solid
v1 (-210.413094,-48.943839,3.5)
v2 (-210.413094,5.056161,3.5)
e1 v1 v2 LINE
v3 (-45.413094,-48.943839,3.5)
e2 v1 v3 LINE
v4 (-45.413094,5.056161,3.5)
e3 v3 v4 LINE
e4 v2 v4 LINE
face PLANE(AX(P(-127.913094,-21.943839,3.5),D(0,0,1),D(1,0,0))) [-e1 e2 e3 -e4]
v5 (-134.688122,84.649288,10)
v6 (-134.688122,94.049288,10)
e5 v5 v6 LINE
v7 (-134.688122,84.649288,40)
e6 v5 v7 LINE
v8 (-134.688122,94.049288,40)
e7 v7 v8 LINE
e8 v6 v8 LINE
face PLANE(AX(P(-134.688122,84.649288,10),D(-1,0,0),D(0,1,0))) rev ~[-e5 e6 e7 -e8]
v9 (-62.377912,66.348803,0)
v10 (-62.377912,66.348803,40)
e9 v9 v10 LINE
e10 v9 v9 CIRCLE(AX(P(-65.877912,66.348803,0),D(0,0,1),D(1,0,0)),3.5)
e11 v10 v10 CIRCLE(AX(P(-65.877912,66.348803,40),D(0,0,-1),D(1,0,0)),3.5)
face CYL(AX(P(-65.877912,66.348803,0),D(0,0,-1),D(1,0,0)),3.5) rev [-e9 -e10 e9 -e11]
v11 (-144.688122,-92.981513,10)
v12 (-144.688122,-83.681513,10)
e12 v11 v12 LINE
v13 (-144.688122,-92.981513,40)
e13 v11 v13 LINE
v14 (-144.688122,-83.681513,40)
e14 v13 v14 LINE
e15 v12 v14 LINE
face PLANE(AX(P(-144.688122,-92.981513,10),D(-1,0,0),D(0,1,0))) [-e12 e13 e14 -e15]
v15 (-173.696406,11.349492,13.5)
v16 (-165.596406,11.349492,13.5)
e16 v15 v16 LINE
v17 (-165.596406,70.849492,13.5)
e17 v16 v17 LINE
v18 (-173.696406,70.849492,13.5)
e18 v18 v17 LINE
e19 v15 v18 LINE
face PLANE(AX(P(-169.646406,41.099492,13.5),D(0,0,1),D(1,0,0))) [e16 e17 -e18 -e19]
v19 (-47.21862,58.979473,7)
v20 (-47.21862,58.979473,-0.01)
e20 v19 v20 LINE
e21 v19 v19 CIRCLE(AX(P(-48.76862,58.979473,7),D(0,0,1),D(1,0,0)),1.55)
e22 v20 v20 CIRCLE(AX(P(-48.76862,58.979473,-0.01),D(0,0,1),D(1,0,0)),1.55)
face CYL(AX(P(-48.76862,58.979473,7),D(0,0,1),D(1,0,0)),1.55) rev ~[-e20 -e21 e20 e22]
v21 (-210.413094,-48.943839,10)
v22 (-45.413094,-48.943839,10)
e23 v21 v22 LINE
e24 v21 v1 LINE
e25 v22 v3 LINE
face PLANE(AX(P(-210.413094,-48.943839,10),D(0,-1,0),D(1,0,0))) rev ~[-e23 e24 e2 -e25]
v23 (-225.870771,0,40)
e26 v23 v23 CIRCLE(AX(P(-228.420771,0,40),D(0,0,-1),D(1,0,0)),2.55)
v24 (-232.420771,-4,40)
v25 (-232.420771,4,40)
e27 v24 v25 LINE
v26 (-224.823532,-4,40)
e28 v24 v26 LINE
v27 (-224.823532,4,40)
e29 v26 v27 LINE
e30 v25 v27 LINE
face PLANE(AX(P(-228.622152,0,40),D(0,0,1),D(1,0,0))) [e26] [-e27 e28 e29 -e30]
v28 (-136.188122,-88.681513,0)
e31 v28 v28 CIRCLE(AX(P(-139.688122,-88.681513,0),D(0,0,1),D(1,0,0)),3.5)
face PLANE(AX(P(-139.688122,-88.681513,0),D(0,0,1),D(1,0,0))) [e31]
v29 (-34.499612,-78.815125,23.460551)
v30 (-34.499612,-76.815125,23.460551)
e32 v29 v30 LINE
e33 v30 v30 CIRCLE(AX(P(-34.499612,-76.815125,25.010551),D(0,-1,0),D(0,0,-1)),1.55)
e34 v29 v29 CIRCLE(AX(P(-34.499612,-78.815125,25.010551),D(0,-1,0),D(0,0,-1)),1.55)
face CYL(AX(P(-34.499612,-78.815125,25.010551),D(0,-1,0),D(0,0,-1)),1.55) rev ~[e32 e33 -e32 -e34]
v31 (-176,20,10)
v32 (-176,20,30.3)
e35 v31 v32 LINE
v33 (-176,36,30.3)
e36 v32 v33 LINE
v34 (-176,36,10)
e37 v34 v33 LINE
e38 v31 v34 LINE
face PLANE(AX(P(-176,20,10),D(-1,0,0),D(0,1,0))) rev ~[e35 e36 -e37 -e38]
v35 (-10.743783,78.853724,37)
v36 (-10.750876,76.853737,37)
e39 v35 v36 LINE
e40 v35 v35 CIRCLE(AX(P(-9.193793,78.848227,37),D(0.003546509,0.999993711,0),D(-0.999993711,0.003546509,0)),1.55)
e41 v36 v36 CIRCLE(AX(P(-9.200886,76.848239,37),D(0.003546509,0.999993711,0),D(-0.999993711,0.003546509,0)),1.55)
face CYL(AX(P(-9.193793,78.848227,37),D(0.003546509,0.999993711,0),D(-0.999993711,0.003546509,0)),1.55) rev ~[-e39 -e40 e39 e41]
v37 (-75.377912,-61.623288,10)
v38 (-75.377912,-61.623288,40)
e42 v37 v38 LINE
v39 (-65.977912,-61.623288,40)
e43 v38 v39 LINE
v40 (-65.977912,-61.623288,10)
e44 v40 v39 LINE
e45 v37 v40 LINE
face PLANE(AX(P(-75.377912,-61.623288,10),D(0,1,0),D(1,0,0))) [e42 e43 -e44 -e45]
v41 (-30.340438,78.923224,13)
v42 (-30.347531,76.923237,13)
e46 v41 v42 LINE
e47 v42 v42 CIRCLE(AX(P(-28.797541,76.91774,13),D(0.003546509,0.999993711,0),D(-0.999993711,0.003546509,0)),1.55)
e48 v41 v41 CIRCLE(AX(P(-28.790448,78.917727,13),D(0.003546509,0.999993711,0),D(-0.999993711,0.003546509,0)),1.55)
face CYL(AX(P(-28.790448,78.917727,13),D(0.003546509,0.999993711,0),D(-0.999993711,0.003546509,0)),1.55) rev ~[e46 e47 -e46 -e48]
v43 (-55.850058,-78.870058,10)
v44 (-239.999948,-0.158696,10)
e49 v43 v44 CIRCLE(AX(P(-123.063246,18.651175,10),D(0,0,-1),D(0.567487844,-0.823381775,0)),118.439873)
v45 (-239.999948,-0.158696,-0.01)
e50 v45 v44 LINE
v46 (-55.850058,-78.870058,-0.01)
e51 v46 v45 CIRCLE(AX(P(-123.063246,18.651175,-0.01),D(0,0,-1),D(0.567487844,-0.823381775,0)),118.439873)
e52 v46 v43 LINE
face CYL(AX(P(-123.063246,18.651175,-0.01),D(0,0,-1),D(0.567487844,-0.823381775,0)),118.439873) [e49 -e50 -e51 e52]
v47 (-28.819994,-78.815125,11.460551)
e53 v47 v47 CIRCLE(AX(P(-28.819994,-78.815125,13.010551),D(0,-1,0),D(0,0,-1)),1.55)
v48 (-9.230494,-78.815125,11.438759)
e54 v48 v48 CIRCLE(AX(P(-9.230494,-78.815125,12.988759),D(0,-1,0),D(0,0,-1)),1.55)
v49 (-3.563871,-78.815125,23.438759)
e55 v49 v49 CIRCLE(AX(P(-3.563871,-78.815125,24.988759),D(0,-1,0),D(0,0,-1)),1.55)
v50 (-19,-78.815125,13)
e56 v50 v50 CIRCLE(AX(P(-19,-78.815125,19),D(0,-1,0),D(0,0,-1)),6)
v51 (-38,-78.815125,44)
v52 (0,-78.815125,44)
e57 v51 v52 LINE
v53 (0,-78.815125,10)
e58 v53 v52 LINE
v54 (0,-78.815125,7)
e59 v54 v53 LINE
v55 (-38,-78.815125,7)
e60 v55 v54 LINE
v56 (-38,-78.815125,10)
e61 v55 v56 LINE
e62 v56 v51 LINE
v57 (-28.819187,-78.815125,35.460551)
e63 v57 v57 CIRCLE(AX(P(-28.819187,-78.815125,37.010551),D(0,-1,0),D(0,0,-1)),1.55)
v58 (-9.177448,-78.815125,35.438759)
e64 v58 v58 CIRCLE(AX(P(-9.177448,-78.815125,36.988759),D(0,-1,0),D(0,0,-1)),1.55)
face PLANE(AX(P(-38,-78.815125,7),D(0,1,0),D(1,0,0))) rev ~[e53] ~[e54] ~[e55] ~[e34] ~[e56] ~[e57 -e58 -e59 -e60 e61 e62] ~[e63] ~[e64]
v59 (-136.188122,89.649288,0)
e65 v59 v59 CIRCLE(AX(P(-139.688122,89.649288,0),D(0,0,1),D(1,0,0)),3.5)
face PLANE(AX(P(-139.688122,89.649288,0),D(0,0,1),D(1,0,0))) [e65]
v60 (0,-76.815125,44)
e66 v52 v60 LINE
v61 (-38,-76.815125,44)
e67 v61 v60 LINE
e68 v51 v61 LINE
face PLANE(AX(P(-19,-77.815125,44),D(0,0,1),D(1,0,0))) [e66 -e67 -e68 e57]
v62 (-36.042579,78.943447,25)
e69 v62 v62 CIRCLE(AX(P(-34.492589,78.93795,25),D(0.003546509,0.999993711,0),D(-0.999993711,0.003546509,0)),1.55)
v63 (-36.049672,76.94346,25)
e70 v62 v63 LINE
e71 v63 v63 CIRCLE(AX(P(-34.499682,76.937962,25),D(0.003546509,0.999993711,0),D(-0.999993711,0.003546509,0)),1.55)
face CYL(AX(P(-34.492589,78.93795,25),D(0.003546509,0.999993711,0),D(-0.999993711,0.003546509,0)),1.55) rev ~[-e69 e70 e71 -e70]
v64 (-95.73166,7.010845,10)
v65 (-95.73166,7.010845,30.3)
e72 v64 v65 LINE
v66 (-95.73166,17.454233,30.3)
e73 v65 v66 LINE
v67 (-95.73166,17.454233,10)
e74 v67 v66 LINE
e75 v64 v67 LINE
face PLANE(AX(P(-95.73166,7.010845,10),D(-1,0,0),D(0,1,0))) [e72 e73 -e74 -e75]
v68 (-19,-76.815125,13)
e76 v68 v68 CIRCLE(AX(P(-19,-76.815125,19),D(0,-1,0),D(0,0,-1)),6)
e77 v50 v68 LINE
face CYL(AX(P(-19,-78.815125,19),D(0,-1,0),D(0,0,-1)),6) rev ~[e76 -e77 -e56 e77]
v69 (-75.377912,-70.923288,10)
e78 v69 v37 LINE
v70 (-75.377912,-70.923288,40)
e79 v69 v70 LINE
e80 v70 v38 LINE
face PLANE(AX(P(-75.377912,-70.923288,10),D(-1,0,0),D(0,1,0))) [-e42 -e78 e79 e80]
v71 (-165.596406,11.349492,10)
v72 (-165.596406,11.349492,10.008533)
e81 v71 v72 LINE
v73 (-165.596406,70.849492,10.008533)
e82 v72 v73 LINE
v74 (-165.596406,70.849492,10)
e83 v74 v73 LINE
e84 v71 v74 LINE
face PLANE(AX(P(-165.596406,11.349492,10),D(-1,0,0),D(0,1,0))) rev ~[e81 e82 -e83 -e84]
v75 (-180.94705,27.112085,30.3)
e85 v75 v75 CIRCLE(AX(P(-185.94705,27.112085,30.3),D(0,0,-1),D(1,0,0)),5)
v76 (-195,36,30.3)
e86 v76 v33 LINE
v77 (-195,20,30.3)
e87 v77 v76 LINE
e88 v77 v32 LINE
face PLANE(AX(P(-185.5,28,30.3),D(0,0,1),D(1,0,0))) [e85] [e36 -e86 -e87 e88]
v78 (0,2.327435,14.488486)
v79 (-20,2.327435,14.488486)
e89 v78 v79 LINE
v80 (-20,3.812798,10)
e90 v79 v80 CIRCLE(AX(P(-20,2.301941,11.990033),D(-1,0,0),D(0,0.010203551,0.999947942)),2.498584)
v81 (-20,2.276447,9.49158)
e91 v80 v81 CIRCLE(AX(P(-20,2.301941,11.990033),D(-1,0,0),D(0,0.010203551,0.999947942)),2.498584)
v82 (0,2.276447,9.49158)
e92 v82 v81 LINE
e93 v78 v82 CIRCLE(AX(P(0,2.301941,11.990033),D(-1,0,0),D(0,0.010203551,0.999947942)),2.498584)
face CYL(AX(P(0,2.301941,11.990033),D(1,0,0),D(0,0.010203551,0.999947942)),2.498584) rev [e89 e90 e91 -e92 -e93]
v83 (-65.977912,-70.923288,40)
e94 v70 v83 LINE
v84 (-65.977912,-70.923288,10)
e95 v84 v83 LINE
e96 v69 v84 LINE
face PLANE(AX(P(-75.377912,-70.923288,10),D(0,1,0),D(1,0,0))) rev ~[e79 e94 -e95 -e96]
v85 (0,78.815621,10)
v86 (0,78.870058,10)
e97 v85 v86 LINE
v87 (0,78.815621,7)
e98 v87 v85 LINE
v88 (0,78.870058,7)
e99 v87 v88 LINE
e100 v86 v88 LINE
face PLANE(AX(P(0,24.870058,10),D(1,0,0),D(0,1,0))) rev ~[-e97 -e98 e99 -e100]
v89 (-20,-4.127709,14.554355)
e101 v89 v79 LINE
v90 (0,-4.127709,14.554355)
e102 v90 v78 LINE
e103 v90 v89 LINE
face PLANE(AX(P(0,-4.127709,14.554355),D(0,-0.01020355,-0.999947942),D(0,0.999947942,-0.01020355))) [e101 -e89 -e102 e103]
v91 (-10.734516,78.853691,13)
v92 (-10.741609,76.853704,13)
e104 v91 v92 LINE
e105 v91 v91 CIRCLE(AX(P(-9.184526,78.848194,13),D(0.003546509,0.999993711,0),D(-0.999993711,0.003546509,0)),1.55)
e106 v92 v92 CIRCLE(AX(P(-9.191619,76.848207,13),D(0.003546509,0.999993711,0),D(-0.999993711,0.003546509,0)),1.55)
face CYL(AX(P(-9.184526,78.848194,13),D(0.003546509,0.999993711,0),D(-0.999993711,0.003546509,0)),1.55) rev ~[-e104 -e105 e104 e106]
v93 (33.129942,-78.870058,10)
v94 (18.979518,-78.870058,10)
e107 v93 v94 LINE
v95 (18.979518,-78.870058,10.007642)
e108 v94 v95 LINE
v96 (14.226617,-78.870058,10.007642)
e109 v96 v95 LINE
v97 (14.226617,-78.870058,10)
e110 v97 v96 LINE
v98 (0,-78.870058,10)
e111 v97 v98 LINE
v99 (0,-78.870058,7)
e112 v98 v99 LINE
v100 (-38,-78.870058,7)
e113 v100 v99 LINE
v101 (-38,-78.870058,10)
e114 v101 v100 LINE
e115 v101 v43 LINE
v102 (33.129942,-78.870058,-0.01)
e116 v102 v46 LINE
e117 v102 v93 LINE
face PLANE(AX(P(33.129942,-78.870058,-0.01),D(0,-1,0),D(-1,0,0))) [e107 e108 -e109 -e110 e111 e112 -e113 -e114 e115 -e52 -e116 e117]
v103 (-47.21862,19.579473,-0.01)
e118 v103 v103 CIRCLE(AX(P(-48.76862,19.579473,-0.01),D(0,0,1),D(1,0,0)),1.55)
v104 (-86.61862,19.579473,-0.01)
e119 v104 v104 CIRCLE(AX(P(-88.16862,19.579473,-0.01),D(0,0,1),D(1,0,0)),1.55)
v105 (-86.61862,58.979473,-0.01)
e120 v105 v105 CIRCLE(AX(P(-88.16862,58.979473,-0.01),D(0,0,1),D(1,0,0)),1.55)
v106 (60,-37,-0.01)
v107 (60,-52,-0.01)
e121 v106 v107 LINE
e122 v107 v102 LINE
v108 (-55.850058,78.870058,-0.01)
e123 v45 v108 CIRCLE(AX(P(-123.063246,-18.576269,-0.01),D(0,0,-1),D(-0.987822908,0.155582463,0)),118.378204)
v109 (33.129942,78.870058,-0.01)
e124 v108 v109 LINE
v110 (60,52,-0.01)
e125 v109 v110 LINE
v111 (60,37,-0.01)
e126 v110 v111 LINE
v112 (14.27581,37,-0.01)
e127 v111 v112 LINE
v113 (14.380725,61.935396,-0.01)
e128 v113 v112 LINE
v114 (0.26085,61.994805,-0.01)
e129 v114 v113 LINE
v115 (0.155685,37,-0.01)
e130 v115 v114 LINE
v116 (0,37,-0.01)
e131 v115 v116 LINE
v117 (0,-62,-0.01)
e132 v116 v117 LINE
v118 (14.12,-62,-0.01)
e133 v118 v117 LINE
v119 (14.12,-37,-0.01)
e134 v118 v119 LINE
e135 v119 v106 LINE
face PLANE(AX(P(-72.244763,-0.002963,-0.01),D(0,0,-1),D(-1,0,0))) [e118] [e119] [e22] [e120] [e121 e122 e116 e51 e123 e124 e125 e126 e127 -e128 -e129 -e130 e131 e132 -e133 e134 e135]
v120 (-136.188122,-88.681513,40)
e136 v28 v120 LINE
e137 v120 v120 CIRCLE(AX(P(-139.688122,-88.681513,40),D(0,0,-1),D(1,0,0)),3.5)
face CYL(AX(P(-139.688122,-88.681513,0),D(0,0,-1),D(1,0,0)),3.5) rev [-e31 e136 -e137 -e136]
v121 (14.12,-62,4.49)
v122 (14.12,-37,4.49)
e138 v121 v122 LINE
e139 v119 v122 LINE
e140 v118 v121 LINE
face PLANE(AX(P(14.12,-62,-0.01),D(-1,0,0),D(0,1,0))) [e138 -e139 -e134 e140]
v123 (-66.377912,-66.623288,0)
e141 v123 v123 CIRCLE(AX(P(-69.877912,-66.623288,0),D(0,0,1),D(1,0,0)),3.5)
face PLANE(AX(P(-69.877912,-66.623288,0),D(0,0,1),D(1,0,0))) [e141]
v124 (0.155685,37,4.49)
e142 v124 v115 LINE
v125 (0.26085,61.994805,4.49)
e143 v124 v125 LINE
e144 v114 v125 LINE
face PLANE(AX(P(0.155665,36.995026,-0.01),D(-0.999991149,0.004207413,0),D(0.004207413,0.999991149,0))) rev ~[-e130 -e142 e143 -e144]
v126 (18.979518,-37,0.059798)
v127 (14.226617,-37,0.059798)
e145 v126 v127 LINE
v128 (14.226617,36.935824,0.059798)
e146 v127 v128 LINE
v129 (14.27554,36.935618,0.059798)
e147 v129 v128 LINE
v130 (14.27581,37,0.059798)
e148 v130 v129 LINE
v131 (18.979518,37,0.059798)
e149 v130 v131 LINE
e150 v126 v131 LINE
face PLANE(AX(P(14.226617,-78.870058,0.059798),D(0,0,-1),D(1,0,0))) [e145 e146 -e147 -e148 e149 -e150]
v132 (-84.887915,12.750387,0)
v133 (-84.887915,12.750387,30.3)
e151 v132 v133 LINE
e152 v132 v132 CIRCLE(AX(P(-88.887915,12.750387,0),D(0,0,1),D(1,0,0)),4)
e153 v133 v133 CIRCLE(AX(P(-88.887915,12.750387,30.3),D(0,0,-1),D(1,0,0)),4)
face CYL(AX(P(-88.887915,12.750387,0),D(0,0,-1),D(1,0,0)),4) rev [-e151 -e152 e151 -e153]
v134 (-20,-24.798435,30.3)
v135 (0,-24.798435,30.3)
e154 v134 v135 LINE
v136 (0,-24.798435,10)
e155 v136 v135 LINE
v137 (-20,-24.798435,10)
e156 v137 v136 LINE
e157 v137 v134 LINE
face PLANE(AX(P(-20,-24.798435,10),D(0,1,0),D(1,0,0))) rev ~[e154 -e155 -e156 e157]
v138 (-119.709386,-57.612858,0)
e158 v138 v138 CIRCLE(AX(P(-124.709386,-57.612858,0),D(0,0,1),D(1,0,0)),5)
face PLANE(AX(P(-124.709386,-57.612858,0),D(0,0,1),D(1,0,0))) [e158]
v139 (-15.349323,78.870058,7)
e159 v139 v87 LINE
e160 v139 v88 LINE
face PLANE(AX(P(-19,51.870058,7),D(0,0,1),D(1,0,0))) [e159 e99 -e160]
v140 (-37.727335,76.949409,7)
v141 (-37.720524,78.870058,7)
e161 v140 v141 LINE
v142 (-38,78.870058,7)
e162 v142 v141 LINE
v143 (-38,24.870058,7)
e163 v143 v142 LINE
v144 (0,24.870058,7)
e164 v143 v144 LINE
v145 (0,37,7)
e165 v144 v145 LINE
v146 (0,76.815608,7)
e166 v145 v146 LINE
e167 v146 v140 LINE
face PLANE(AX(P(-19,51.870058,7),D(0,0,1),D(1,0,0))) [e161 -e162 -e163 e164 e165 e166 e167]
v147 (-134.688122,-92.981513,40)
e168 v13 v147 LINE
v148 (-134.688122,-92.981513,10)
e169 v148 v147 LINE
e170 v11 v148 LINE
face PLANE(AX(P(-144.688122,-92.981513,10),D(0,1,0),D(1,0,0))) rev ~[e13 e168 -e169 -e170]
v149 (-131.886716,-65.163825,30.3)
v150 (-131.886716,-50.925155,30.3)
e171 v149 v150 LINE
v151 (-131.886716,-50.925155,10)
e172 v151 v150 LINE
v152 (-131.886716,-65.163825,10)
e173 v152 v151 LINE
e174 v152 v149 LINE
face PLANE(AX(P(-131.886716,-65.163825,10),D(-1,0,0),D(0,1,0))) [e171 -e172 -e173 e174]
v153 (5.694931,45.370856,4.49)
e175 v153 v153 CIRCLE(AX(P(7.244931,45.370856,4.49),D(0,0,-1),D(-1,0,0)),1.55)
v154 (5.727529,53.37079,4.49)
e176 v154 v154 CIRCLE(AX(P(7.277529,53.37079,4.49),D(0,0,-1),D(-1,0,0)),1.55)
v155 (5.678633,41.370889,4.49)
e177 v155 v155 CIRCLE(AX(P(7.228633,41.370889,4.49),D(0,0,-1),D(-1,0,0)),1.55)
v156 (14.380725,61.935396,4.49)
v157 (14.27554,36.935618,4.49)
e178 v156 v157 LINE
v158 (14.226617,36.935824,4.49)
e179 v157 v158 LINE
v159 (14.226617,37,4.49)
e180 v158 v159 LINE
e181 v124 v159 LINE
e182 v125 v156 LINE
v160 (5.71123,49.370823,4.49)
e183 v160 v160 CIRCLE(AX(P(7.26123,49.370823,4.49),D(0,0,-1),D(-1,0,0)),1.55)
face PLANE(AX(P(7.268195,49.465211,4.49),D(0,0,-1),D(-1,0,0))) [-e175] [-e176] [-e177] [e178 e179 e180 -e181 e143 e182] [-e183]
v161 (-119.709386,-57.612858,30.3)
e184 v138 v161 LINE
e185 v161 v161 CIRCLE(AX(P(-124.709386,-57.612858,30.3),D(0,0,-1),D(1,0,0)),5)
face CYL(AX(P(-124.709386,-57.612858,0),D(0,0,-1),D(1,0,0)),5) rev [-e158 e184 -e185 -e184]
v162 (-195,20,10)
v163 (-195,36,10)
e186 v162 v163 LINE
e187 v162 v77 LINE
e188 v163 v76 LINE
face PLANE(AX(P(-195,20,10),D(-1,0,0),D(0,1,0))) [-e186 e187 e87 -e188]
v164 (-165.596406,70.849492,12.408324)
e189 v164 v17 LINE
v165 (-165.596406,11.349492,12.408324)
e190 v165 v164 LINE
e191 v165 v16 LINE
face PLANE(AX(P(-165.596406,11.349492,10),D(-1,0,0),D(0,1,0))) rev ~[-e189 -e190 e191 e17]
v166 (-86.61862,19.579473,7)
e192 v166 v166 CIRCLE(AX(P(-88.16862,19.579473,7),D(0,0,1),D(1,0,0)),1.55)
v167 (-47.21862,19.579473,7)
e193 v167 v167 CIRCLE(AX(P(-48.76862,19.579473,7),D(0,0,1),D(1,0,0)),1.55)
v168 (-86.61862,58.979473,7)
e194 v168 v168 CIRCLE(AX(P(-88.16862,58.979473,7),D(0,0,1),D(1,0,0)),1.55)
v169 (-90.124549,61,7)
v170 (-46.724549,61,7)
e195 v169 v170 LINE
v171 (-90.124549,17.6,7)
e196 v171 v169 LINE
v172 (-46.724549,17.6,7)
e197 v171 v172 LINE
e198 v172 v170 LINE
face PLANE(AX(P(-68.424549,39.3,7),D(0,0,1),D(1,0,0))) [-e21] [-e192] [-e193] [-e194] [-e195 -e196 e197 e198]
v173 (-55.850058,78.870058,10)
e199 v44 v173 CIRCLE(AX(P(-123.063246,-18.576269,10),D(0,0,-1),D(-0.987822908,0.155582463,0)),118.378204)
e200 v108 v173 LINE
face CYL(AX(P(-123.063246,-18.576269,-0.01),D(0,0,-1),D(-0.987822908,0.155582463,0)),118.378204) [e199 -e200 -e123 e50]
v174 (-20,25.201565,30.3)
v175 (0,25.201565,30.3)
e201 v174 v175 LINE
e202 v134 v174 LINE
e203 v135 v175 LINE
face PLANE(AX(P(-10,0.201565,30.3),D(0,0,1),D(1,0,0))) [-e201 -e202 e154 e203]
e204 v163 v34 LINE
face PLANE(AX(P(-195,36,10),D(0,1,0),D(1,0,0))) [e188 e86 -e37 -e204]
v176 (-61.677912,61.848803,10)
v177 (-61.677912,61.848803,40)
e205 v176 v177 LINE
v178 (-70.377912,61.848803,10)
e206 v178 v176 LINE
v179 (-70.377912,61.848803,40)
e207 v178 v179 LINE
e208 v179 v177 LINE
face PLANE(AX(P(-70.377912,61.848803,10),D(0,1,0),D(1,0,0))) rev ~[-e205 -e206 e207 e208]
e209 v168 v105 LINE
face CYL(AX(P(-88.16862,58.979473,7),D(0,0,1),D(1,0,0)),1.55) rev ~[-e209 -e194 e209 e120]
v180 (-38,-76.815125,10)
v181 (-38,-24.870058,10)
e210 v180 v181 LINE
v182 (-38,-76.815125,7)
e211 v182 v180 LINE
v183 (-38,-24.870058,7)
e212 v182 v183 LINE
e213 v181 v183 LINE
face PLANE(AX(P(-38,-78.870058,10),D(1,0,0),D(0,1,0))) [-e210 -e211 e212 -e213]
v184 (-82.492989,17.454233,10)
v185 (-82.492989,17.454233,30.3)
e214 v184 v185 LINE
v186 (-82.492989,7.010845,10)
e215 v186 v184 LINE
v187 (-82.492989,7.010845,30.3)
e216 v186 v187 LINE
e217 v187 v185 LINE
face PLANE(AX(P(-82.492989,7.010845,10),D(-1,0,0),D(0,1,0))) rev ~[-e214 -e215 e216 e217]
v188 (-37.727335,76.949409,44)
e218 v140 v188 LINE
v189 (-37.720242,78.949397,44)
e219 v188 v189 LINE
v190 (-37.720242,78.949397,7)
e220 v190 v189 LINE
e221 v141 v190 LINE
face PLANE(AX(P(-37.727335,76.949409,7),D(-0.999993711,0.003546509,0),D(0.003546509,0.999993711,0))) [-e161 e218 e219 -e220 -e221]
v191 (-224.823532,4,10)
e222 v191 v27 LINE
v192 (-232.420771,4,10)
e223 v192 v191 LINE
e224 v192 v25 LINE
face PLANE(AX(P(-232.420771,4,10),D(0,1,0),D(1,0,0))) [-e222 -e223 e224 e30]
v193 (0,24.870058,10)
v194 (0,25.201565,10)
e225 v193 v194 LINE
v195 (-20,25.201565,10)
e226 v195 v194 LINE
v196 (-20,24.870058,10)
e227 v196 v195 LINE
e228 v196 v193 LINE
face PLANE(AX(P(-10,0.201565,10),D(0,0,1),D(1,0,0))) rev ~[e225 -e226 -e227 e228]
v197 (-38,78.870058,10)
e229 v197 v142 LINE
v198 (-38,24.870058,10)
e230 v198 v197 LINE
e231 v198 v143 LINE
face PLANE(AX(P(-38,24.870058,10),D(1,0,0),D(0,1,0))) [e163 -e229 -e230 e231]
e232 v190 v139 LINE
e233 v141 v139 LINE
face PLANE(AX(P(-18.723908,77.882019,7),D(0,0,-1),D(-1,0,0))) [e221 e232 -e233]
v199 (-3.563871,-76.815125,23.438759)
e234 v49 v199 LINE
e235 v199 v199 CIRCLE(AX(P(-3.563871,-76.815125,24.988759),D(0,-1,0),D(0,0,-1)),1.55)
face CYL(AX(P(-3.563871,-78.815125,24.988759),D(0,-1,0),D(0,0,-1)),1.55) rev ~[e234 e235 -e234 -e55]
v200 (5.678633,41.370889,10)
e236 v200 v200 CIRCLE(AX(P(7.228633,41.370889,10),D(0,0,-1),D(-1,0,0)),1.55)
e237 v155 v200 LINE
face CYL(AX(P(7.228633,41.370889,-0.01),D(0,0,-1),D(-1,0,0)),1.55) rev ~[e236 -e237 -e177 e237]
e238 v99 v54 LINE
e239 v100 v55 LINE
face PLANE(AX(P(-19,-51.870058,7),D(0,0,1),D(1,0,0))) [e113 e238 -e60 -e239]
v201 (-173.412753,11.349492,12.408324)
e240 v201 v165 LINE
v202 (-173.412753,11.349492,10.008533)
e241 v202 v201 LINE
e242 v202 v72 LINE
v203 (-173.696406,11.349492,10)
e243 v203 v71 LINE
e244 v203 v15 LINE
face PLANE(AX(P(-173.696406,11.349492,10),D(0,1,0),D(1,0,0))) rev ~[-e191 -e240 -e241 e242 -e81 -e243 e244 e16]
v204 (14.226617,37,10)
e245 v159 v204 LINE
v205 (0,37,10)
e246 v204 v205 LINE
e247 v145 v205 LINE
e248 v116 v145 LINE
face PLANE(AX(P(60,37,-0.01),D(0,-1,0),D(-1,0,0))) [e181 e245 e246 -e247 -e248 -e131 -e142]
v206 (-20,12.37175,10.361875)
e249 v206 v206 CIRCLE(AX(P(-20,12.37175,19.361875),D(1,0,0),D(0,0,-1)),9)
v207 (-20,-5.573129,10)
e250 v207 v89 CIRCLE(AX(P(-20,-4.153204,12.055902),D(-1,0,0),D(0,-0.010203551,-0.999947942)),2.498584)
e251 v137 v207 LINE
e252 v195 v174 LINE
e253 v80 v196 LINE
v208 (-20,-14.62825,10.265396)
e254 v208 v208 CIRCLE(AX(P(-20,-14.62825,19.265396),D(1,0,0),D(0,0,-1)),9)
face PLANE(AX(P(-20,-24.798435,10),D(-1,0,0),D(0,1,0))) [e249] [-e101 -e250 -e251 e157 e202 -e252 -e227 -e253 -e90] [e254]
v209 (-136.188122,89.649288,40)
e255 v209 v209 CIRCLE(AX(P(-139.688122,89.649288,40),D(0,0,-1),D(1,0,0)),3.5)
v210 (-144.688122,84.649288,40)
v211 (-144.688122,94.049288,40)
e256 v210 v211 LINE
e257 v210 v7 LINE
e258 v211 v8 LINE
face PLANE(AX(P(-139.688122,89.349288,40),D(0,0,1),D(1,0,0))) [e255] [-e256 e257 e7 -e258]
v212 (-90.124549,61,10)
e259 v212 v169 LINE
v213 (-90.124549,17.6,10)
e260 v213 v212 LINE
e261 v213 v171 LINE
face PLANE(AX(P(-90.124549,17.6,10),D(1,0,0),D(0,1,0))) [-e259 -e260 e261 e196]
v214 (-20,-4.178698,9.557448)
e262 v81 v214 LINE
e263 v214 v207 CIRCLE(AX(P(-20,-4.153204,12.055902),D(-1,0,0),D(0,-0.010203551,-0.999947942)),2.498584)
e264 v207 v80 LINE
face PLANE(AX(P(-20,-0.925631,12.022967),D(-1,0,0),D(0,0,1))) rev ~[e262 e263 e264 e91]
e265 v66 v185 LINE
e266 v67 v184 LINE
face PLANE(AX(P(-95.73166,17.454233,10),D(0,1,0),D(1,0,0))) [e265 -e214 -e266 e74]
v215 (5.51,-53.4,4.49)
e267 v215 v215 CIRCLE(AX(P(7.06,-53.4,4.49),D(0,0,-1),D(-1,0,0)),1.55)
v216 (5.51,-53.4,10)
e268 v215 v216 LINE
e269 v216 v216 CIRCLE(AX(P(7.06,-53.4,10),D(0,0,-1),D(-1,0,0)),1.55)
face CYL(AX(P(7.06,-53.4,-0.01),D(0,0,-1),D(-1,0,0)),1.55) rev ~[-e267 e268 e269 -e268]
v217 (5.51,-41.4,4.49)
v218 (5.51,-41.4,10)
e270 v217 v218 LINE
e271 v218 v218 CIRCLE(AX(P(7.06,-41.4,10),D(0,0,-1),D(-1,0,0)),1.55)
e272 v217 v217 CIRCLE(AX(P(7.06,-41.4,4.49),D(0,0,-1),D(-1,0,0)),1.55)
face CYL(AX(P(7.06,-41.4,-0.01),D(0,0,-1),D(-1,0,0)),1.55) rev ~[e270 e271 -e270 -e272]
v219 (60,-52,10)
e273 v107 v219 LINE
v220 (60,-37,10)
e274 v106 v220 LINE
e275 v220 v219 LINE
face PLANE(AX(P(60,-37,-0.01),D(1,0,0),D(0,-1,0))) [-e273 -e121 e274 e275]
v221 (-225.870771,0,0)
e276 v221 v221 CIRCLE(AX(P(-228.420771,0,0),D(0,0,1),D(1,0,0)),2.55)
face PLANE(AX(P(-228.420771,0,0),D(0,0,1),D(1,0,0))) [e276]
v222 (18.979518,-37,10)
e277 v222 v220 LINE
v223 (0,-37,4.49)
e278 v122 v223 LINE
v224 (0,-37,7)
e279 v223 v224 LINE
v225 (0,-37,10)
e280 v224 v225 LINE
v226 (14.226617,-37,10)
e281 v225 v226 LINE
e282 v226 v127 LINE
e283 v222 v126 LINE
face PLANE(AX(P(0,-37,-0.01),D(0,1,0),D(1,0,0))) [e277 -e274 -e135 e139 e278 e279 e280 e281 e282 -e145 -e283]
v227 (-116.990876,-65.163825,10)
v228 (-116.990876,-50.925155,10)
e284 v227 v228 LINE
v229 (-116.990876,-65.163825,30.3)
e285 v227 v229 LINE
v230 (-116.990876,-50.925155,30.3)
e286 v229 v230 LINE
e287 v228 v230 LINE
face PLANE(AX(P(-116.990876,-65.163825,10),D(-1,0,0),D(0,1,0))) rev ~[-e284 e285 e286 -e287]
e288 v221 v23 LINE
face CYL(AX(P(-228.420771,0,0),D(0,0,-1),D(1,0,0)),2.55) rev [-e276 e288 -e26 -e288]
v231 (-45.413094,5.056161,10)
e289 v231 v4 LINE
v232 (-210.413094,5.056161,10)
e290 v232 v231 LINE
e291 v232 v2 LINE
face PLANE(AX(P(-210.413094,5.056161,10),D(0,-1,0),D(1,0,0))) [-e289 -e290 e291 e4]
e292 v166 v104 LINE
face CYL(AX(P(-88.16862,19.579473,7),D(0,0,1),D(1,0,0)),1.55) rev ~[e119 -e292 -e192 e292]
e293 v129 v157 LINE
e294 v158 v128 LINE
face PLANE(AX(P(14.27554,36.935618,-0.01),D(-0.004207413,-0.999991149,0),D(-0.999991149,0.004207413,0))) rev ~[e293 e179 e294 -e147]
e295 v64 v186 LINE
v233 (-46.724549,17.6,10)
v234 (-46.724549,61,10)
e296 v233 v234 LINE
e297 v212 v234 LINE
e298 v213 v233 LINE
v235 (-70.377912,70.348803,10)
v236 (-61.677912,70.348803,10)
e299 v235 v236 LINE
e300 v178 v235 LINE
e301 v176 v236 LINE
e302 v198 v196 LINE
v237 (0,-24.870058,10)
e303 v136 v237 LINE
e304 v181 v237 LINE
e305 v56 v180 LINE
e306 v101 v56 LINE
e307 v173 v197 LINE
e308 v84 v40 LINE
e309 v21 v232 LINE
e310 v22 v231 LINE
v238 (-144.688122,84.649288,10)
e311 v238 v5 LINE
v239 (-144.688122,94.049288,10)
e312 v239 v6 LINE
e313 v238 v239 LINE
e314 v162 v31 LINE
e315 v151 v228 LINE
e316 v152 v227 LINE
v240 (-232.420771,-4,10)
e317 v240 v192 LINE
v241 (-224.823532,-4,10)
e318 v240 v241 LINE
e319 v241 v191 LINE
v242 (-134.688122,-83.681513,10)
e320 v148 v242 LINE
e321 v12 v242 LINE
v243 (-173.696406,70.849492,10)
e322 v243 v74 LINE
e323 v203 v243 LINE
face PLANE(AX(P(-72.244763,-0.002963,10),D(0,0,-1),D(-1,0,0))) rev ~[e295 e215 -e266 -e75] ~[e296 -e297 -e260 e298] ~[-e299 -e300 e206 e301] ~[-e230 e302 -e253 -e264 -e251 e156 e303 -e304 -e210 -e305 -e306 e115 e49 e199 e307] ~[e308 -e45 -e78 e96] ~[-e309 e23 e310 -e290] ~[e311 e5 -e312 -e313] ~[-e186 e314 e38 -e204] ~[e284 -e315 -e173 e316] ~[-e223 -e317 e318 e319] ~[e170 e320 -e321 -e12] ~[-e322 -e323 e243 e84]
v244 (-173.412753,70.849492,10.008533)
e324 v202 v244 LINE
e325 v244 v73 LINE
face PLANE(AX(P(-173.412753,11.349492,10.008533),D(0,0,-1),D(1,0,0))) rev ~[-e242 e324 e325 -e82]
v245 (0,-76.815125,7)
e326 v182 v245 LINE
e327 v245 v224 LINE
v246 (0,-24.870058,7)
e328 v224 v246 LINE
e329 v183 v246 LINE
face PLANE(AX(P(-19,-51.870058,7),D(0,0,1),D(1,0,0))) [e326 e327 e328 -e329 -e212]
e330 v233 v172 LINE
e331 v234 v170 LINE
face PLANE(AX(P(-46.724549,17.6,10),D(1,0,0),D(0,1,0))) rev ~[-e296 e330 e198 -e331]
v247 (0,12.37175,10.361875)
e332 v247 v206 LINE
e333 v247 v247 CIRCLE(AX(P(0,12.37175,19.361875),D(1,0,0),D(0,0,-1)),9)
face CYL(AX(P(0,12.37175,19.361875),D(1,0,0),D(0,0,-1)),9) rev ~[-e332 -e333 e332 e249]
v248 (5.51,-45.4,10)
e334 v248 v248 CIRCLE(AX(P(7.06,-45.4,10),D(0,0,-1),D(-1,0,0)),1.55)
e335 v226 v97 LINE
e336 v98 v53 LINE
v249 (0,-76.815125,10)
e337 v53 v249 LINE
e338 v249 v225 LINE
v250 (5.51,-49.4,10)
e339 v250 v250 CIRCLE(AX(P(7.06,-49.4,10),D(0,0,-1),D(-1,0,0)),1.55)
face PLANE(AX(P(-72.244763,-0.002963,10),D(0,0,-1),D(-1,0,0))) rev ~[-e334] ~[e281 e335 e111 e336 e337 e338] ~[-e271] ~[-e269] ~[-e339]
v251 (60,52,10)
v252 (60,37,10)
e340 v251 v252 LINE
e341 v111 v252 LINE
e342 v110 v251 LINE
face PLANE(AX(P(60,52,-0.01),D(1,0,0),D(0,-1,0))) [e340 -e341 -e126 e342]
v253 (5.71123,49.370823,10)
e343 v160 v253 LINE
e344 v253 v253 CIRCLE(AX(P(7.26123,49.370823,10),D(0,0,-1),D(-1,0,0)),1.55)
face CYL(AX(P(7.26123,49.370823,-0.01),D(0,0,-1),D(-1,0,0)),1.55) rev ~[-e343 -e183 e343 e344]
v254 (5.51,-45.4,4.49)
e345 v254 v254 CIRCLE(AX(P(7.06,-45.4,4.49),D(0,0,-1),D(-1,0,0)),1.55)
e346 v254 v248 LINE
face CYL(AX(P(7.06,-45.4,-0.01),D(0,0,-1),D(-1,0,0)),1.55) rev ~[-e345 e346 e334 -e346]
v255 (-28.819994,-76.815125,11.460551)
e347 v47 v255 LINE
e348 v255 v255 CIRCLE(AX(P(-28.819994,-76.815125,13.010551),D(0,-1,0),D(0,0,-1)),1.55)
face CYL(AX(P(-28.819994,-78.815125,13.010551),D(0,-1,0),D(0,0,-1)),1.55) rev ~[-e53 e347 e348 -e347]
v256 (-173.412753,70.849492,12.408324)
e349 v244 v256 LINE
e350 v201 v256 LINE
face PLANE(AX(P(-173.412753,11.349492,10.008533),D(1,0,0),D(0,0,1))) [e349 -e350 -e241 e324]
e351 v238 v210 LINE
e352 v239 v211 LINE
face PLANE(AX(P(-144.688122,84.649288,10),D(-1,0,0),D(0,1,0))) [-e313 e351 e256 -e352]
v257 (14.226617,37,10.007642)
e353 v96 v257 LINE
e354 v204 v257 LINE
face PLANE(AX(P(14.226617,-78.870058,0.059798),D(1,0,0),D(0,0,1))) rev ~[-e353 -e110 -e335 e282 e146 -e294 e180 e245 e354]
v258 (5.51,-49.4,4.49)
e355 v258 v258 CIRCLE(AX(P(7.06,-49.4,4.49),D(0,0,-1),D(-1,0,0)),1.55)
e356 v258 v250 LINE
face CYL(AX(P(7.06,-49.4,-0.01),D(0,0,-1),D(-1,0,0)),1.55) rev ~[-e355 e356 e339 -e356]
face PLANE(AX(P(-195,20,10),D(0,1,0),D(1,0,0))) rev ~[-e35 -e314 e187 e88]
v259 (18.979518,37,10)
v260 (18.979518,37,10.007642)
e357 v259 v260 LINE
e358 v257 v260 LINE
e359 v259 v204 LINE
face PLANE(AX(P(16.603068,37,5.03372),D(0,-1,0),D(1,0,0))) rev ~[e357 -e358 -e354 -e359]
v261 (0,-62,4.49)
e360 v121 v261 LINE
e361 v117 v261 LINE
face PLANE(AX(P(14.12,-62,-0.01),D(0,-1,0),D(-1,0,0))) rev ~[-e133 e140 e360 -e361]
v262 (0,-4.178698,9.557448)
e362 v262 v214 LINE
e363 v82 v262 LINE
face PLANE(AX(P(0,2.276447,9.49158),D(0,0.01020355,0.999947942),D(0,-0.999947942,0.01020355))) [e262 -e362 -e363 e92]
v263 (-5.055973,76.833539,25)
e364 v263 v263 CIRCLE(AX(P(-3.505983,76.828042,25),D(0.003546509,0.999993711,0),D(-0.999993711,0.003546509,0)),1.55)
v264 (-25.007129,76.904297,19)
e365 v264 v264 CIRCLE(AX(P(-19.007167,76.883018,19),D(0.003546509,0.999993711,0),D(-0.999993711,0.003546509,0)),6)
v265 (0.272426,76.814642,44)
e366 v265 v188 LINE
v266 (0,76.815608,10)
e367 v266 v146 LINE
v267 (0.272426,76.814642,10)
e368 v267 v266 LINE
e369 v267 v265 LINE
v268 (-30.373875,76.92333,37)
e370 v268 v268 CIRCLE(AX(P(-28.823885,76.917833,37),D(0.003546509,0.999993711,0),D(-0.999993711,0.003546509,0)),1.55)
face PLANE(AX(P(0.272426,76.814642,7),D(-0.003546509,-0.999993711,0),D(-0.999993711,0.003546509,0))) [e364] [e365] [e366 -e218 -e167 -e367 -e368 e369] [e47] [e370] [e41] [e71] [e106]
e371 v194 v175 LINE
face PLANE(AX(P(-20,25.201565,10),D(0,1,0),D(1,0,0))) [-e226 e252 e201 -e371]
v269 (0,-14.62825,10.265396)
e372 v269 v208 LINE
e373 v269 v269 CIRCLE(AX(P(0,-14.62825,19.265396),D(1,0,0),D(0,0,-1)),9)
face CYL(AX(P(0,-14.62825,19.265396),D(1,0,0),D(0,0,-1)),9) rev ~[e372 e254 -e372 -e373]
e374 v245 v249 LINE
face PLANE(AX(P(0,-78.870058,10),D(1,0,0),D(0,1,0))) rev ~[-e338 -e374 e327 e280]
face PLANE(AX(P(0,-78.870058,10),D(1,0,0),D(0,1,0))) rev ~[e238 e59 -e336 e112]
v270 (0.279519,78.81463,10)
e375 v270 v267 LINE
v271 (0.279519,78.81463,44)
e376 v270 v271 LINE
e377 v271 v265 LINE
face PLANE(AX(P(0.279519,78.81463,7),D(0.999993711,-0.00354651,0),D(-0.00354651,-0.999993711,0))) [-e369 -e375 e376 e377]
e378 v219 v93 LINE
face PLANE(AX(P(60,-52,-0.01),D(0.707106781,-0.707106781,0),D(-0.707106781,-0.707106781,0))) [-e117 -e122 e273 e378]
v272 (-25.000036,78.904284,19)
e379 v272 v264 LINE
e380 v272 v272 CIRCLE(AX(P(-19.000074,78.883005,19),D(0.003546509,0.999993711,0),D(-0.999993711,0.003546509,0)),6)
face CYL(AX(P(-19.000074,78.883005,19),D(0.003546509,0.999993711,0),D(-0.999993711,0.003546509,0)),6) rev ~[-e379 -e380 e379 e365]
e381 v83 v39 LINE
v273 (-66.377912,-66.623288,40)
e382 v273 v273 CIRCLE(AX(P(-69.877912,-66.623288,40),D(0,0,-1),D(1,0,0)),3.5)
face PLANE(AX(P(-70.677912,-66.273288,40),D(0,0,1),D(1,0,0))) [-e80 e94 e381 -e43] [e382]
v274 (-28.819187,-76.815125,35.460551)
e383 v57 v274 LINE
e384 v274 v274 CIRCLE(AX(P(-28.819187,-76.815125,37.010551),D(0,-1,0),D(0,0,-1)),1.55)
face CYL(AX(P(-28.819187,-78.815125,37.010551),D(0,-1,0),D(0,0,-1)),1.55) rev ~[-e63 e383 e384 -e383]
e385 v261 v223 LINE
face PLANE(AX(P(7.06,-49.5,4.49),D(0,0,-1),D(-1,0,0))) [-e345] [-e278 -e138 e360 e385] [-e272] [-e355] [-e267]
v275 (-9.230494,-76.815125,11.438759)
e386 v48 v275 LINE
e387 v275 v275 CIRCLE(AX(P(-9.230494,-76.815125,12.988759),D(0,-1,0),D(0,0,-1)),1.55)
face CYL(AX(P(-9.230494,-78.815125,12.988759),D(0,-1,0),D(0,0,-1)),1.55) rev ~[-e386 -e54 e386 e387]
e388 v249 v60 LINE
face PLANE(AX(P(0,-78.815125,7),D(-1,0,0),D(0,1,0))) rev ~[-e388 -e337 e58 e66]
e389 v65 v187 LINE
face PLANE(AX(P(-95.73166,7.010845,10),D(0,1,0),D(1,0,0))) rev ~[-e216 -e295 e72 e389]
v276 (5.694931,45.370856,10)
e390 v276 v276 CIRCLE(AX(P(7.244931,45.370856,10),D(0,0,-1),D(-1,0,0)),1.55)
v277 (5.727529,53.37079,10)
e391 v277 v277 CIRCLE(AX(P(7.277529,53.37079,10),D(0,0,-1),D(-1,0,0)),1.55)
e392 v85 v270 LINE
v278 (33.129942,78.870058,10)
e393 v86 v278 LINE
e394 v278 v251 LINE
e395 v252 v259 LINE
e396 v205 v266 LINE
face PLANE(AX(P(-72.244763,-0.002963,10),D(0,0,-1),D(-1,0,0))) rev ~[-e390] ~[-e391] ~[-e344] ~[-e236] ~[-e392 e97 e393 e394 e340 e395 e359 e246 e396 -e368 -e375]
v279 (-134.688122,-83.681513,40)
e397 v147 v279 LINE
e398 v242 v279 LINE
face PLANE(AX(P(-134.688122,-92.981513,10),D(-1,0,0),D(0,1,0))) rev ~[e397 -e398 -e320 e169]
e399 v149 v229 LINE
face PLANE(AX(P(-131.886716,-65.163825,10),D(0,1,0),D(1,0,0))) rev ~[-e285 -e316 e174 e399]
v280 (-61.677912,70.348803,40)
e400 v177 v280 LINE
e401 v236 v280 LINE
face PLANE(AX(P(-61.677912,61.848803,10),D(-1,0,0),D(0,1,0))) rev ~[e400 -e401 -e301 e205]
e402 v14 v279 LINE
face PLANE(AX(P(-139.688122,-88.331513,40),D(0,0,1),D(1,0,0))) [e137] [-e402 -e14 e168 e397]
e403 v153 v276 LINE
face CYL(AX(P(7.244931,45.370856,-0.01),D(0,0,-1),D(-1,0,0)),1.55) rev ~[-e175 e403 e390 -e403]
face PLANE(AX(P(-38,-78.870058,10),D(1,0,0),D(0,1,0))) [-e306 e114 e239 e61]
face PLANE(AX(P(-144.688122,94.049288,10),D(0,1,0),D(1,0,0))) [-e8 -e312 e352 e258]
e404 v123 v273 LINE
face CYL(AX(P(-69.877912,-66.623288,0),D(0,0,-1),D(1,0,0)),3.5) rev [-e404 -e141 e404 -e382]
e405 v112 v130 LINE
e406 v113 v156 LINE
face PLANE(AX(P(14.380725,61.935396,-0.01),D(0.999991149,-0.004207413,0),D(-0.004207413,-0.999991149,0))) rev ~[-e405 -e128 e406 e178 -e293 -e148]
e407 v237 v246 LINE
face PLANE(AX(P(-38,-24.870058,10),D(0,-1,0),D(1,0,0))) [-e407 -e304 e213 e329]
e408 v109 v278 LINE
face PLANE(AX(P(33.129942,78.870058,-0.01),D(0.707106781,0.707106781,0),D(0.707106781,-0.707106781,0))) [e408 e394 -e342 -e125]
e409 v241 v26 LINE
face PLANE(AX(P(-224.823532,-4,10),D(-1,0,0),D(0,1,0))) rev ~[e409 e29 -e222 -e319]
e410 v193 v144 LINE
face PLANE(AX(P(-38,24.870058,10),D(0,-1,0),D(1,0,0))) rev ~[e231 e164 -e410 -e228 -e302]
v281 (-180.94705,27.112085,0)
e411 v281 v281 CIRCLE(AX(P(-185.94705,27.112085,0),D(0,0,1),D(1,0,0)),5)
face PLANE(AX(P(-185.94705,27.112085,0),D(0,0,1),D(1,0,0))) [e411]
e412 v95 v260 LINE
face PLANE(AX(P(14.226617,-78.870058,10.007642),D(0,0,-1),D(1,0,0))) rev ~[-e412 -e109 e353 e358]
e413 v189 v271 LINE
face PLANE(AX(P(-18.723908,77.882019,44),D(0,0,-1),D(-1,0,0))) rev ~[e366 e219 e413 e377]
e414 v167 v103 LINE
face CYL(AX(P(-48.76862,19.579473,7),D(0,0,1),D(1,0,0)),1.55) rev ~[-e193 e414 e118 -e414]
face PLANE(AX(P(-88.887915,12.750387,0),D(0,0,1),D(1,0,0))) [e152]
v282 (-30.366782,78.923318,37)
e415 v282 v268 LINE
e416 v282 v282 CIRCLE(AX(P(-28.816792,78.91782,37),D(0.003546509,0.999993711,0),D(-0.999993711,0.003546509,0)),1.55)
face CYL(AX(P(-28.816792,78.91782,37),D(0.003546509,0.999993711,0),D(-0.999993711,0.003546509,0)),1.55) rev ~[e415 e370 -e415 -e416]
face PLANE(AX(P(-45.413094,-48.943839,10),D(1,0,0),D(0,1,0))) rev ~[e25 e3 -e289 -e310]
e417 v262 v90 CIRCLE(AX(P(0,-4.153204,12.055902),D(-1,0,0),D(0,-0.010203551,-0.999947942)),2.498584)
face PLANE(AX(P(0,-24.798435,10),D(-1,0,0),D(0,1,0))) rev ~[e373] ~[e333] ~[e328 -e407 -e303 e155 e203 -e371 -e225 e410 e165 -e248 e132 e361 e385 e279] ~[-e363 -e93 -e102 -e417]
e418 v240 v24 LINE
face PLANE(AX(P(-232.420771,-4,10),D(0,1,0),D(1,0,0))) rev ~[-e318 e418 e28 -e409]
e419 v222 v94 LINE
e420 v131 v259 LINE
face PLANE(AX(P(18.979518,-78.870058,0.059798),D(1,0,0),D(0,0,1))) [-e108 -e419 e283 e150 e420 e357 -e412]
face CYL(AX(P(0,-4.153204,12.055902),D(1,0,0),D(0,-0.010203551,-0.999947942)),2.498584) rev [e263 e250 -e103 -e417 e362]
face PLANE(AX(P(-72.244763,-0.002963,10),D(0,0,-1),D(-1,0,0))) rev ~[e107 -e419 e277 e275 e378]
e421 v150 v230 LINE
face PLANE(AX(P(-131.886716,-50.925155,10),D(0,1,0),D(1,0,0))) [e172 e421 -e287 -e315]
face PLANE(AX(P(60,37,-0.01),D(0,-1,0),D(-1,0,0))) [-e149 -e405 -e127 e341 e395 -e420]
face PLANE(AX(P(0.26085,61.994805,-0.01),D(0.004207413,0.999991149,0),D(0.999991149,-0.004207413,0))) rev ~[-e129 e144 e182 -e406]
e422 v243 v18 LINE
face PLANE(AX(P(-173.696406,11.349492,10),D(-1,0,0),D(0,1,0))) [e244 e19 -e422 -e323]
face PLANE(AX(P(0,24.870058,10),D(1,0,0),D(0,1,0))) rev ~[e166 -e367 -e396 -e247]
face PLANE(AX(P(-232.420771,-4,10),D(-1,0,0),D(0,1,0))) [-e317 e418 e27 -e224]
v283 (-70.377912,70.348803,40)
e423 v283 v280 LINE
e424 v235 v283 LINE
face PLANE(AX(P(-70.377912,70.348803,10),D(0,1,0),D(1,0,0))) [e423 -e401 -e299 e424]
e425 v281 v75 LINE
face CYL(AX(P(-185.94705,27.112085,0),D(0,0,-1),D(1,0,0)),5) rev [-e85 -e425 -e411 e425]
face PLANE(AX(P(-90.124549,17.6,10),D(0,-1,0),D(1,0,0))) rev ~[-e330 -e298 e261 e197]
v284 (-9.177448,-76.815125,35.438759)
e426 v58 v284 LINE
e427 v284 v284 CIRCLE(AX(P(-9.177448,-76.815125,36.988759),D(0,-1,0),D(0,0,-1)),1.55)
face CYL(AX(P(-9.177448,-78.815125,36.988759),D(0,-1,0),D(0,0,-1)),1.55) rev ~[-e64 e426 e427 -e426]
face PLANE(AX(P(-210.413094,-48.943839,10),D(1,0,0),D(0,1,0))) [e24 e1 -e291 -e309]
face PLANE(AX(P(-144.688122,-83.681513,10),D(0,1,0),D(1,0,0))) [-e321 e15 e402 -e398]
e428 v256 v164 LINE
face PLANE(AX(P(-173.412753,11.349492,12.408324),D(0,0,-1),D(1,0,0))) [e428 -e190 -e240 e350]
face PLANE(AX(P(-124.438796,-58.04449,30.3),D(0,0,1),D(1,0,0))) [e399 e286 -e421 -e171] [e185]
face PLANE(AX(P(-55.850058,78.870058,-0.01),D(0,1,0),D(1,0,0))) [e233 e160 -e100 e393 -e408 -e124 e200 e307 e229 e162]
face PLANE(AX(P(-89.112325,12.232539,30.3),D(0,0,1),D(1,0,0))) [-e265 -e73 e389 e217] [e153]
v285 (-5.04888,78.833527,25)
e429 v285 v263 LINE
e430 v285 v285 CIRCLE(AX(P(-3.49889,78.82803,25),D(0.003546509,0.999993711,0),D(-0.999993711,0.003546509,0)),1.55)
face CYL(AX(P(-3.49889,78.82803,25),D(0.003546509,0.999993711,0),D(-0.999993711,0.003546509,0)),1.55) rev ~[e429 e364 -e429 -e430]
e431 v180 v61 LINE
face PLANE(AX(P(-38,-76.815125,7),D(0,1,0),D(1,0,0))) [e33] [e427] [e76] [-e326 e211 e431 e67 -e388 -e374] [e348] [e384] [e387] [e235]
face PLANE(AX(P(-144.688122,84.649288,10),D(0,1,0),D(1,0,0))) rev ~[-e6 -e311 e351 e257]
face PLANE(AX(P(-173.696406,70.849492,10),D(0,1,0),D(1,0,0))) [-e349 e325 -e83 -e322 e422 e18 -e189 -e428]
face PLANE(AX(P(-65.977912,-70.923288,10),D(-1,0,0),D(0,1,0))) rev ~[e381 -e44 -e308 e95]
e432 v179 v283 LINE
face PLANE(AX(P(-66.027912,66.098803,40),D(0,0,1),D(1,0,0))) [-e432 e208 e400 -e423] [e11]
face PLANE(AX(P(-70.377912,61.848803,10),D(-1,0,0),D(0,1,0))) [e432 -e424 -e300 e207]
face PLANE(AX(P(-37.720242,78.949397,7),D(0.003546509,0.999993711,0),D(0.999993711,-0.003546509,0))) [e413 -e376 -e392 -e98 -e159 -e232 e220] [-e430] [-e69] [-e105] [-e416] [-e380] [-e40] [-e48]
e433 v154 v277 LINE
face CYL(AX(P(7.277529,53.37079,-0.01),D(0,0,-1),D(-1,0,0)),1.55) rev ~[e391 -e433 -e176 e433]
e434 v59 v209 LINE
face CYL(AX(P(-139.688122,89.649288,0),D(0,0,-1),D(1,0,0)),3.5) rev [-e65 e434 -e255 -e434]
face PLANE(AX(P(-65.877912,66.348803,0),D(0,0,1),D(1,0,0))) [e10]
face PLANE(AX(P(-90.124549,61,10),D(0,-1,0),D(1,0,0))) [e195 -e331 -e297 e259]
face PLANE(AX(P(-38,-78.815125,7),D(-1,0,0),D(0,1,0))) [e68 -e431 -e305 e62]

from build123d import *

# Parameters (mm, degrees)
BOSS_EXTRUDE1_DEPTH      = 10
BOSS_EXTRUDE1_DEPTH_BACK = 0.01
SKETCH3_W                = 38
SKETCH3_H                = 54
CUT_EXTRUDE1_DEPTH       = 3
SKETCH5_W                = 38
SKETCH5_H                = 54
CUT_EXTRUDE3_DEPTH       = 3
SKETCH7_W                = 165
SKETCH7_H                = 54
CUT_EXTRUDE4_DEPTH       = 6.5
SKETCH9_W                = 19
SKETCH9_H                = 16
SKETCH9_W_2              = 13.23867097
SKETCH9_H_2              = 10.44338859
SKETCH9_W_3              = 14.8958404
SKETCH9_H_3              = 14.23867097
BOSS_EXTRUDE2_DEPTH      = 20.3
SKETCH15_W               = 20
SKETCH15_H               = 50
BOSS_EXTRUDE3_DEPTH      = 20.3
SKETCH16_W               = 7.597238681
SKETCH16_H               = 8
SKETCH16_W_2             = 10
SKETCH16_H_2             = 9.4
SKETCH16_W_3             = 8.7
SKETCH16_H_3             = 8.5
SKETCH16_W_4             = 9.4
SKETCH16_H_4             = 9.3
BOSS_EXTRUDE4_DEPTH      = 30
SKETCH17_R               = 2.55
SKETCH17_R_2             = 3.5
CUT_EXTRUDE17_DEPTH      = 263.983651767
SKETCH18_W               = 43.4
SKETCH18_H               = 43.4
CUT_EXTRUDE18_DEPTH      = 3
SKETCH20_R               = 5
SKETCH20_R_2             = 4
CUT_EXTRUDE20_DEPTH      = 263.983651767
SKETCH21_R               = 9
CUT_EXTRUDE21_DEPTH      = 20
SKETCH22_R               = 1.55
CUT_EXTRUDE23_DEPTH      = 263.010307234
SKETCH25_W               = 8.1
SKETCH25_H               = 59.5
BOSS_EXTRUDE5_DEPTH      = 3.5
SKETCH26_W               = 7.81634734
SKETCH26_H               = 2.399791276
CUT_EXTRUDE24_DEPTH      = 59.5
SKETCH28_W               = 4.75290021
SKETCH28_H               = 9.947843747
BOSS_EXTRUDE6_DEPTH      = 115.870057685
SKETCH30_W               = 14.12
SKETCH30_H               = 25
CUT_EXTRUDE25_DEPTH      = 4.5
SKETCH33_R               = 1.55
CUT_EXTRUDE26_DEPTH      = 10.01
SKETCH36_W               = 38
SKETCH36_H               = 2
BOSS_EXTRUDE7_DEPTH      = 37
SKETCH39_R               = 6
SKETCH39_R_2             = 1.55
CUT_EXTRUDE28_DEPTH      = 2
SKETCH42_R               = 6
SKETCH42_R_2             = 1.55
CUT_EXTRUDE29_DEPTH      = 2


with BuildPart() as part:
    # Sketch1 → Boss-Extrude1 (new, two sides: drawn at the far end of the back side and taken through both)
    with BuildSketch(Plane.XY.offset(-BOSS_EXTRUDE1_DEPTH_BACK)):
        with BuildLine():
            Line((0, 0), (0, -37))
            Line((0, -37), (60, -37))
            Line((60, -37), (60, -52))
            Line((60, -52), (33.129942315, -78.870057685))
            Line((33.129942315, -78.870057685), (-55.850057685, -78.870057685))
            ThreePointArc((-55.850057685, -78.870057685), (-169.614041234, -90.257166815), (-239.999947532, -0.158696229))
            ThreePointArc((-239.999947532, -0.158696229), (-169.748285548, 90.207490359), (-55.850057685, 78.870057685))
            Line((-55.850057685, 78.870057685), (33.129942315, 78.870057685))
            Line((33.129942315, 78.870057685), (60, 52))
            Line((60, 52), (60, 37))
            Line((60, 37), (0, 37))
            Line((0, 37), (0, 0))
        make_face()
    extrude(amount=BOSS_EXTRUDE1_DEPTH + BOSS_EXTRUDE1_DEPTH_BACK)

    # Sketch3 → Cut-Extrude1 (cut)
    with BuildSketch(Plane.XY.offset(10)):
        with Locations((-19, 51.870057685)):
            Rectangle(SKETCH3_W, SKETCH3_H)
    extrude(amount=-CUT_EXTRUDE1_DEPTH, mode=Mode.SUBTRACT)

    # Sketch5 → Cut-Extrude3 (cut)
    with BuildSketch(Plane.XY.offset(10)):
        with Locations((-19, -51.870057685)):
            Rectangle(SKETCH5_W, SKETCH5_H)
    extrude(amount=-CUT_EXTRUDE3_DEPTH, mode=Mode.SUBTRACT)

    # Sketch7 → Cut-Extrude4 (cut)
    with BuildSketch(Plane.XY.offset(10)):
        with Locations((-127.91309413, -21.943838981)):
            Rectangle(SKETCH7_W, SKETCH7_H)
    extrude(amount=-CUT_EXTRUDE4_DEPTH, mode=Mode.SUBTRACT)

    # Sketch9 → Boss-Extrude2 (add)
    with BuildSketch(Plane.XY.offset(10)):
        with Locations((-185.5, 28)):
            Rectangle(SKETCH9_W, SKETCH9_H)
        with Locations((-89.112324575, 12.232539195)):
            Rectangle(SKETCH9_W_2, SKETCH9_H_2)
        with Locations((-124.438795754, -58.044490005)):
            Rectangle(SKETCH9_W_3, SKETCH9_H_3)
    extrude(amount=BOSS_EXTRUDE2_DEPTH)

    # Sketch15 → Boss-Extrude3 (add)
    with BuildSketch(Plane.XY.offset(10)):
        with Locations((-10, 0.20156489)):
            Rectangle(SKETCH15_W, SKETCH15_H)
    extrude(amount=BOSS_EXTRUDE3_DEPTH)

    # Sketch16 → Boss-Extrude4 (add)
    with BuildSketch(Plane.XY.offset(10)):
        with Locations((-228.62215183, 0)):
            Rectangle(SKETCH16_W, SKETCH16_H)
        with Locations((-139.68812176, 89.3492876)):
            Rectangle(SKETCH16_W_2, SKETCH16_H_2)
        with Locations((-66.02791219, 66.09880262)):
            Rectangle(SKETCH16_W_3, SKETCH16_H_3)
        with Locations((-70.67791219, -66.2732878)):
            Rectangle(SKETCH16_W_4, SKETCH16_H_4)
        with Locations((-139.68812176, -88.33151307)):
            Rectangle(SKETCH16_W_2, SKETCH16_H_4)
    extrude(amount=BOSS_EXTRUDE4_DEPTH)

    # Sketch17 → Cut-Extrude17 (cut, through all)
    with BuildSketch(Plane.XY):
        with Locations((-228.42077117, 0)):
            Circle(SKETCH17_R)
        with Locations((-139.68812176, 89.6492876)):
            Circle(SKETCH17_R_2)
        with Locations((-65.87791219, 66.34880262)):
            Circle(SKETCH17_R_2)
        with Locations((-69.87791219, -66.6232878)):
            Circle(SKETCH17_R_2)
        with Locations((-139.68812176, -88.68151307)):
            Circle(SKETCH17_R_2)
    extrude(amount=CUT_EXTRUDE17_DEPTH, mode=Mode.SUBTRACT)

    # Sketch18 → Cut-Extrude18 (cut)
    with BuildSketch(Plane.XY.offset(10)):
        with Locations((-68.42454895, 39.3)):
            Rectangle(SKETCH18_W, SKETCH18_H)
    extrude(amount=-CUT_EXTRUDE18_DEPTH, mode=Mode.SUBTRACT)

    # Sketch20 → Cut-Extrude20 (cut, through all)
    with BuildSketch(Plane.XY):
        with Locations((-185.94705048, 27.1120848)):
            Circle(SKETCH20_R)
        with Locations((-124.709385772, -57.612858016)):
            Circle(SKETCH20_R)
        with Locations((-88.8879152, 12.75038661)):
            Circle(SKETCH20_R_2)
    extrude(amount=CUT_EXTRUDE20_DEPTH, mode=Mode.SUBTRACT)

    # Sketch21 → Cut-Extrude21 (cut)
    with BuildSketch(Plane(origin=(0, 0, 0), x_dir=(0, 0, -1), z_dir=(1, 0, 0))):
        with Locations((-19.36187505, 12.37175029)):
            Circle(SKETCH21_R)
        with Locations((-19.26539558, -14.62824971)):
            Circle(SKETCH21_R)
        with BuildLine():
            Line((-9.491579533, 2.276446619), (-9.557448357, -4.178698144))
            ThreePointArc((-9.557448357, -4.178698144), (-12.081396215, -6.651657156), (-14.554355227, -4.127709299))
            Line((-14.554355227, -4.127709299), (-14.488486403, 2.327435464))
            ThreePointArc((-14.488486403, 2.327435464), (-11.964538545, 4.800394476), (-9.491579533, 2.276446619))
        make_face()
    extrude(amount=-CUT_EXTRUDE21_DEPTH, mode=Mode.SUBTRACT)

    # Sketch22 → Cut-Extrude23 (cut, through all)
    with BuildSketch(Plane.XY.offset(7)):
        with Locations((-88.16862044, 58.97947337)):
            Circle(SKETCH22_R)
        with Locations((-48.76862044, 58.97947337)):
            Circle(SKETCH22_R)
        with Locations((-48.76862044, 19.57947337)):
            Circle(SKETCH22_R)
        with Locations((-88.16862044, 19.57947337)):
            Circle(SKETCH22_R)
    extrude(amount=-CUT_EXTRUDE23_DEPTH, mode=Mode.SUBTRACT)

    # Sketch25 → Boss-Extrude5 (add)
    with BuildSketch(Plane.XY.offset(10)):
        with Locations((-169.64640613, 41.09949177)):
            Rectangle(SKETCH25_W, SKETCH25_H)
    extrude(amount=BOSS_EXTRUDE5_DEPTH)

    # Sketch26 → Cut-Extrude24 (cut)
    with BuildSketch(Plane.XZ.offset(-11.34949177)):
        with Locations((-169.5045798, 11.208428435)):
            Rectangle(SKETCH26_W, SKETCH26_H)
    extrude(amount=-CUT_EXTRUDE24_DEPTH, mode=Mode.SUBTRACT)

    # Sketch28 → Boss-Extrude6 (add)
    with BuildSketch(Plane.XZ.offset(78.870057685)):
        with Locations((16.603067585, 5.033719824)):
            Rectangle(SKETCH28_W, SKETCH28_H)
    extrude(amount=-BOSS_EXTRUDE6_DEPTH)

    # Sketch30 → Cut-Extrude25 (cut)
    with BuildSketch(Plane(origin=(0, 0, -0.01), x_dir=(-1, 0, 0), z_dir=(0, 0, -1))):
        with Locations((-7.06, -49.5)):
            Rectangle(SKETCH30_W, SKETCH30_H)
        Polygon((-14.38072485, 61.935396467), (-14.275539526, 36.935617747), (-0.155664505, 36.995026418), (-0.260849829, 61.994805138), align=None)
    extrude(amount=-CUT_EXTRUDE25_DEPTH, mode=Mode.SUBTRACT)

    # Sketch33 → Cut-Extrude26 (cut)
    with BuildSketch(Plane(origin=(0, 0, -0.01), x_dir=(-1, 0, 0), z_dir=(0, 0, -1))):
        with Locations((-7.06, -53.4)):
            Circle(SKETCH33_R)
        with Locations((-7.06, -49.4)):
            Circle(SKETCH33_R)
        with Locations((-7.06, -45.4)):
            Circle(SKETCH33_R)
        with Locations((-7.06, -41.4)):
            Circle(SKETCH33_R)
        with Locations((-7.228632788, 41.370889137)):
            Circle(SKETCH33_R)
        with Locations((-7.244931474, 45.370855931)):
            Circle(SKETCH33_R)
        with Locations((-7.261230159, 49.370822725)):
            Circle(SKETCH33_R)
        with Locations((-7.277528845, 53.370789519)):
            Circle(SKETCH33_R)
    extrude(amount=-CUT_EXTRUDE26_DEPTH, mode=Mode.SUBTRACT)

    # Sketch36 → Boss-Extrude7 (add)
    with BuildSketch(Plane.XY.offset(7)):
        Polygon((0.279518574, 78.814629504), (0.272425555, 76.814642082), (-37.727335467, 76.949409435), (-37.720242449, 78.949396858), align=None)
        with Locations((-19, -77.815125164)):
            Rectangle(SKETCH36_W, SKETCH36_H)
    extrude(amount=BOSS_EXTRUDE7_DEPTH)

    # Sketch39 → Cut-Extrude28 (cut)
    with BuildSketch(Plane.XZ.offset(78.815125164)):
        with Locations(Location((-19, 19, 0), (0, 0, 270))):
            Circle(SKETCH39_R)
        with Locations(Location((-34.499611559, 25.01055106, 0), (0, 0, 270))):
            Circle(SKETCH39_R_2)
        with Locations(Location((-3.563871147, 24.988758691, 0), (0, 0, 270))):
            Circle(SKETCH39_R_2)
        with Locations(Location((-28.819186805, 37.01055106, 0), (0, 0, 270))):
            Circle(SKETCH39_R_2)
        with Locations(Location((-9.177448314, 36.988758691, 0), (0, 0, 270))):
            Circle(SKETCH39_R_2)
        with Locations(Location((-28.819994175, 13.01055106, 0), (0, 0, 270))):
            Circle(SKETCH39_R_2)
        with Locations(Location((-9.230494356, 12.988758691, 0), (0, 0, 270))):
            Circle(SKETCH39_R_2)
    extrude(amount=-CUT_EXTRUDE28_DEPTH, mode=Mode.SUBTRACT)

    # Sketch42 → Cut-Extrude29 (cut)
    with BuildSketch(Plane(origin=(0.279518574, 78.814629504, 0), x_dir=(0.9999937111161443, -0.003546509292438372, 0), z_dir=(0.003546509292438372, 0.9999937111161443, 0))):
        with Locations(Location((-19.279713392, -19, 0), (0, 0, 180))):
            Circle(SKETCH42_R)
        with Locations(Location((-29.070149337, -13, 0), (0, 0, 180))):
            Circle(SKETCH42_R_2)
        with Locations(Location((-3.778432466, -25, 0), (0, 0, 180))):
            Circle(SKETCH42_R_2)
        with Locations(Location((-9.464104196, -13, 0), (0, 0, 180))):
            Circle(SKETCH42_R_2)
        with Locations(Location((-34.772326096, -25, 0), (0, 0, 180))):
            Circle(SKETCH42_R_2)
        with Locations(Location((-29.096493177, -37, 0), (0, 0, 180))):
            Circle(SKETCH42_R_2)
        with Locations(Location((-9.473371075, -37, 0), (0, 0, 180))):
            Circle(SKETCH42_R_2)
    extrude(amount=-CUT_EXTRUDE29_DEPTH, mode=Mode.SUBTRACT)


solid = part.part
